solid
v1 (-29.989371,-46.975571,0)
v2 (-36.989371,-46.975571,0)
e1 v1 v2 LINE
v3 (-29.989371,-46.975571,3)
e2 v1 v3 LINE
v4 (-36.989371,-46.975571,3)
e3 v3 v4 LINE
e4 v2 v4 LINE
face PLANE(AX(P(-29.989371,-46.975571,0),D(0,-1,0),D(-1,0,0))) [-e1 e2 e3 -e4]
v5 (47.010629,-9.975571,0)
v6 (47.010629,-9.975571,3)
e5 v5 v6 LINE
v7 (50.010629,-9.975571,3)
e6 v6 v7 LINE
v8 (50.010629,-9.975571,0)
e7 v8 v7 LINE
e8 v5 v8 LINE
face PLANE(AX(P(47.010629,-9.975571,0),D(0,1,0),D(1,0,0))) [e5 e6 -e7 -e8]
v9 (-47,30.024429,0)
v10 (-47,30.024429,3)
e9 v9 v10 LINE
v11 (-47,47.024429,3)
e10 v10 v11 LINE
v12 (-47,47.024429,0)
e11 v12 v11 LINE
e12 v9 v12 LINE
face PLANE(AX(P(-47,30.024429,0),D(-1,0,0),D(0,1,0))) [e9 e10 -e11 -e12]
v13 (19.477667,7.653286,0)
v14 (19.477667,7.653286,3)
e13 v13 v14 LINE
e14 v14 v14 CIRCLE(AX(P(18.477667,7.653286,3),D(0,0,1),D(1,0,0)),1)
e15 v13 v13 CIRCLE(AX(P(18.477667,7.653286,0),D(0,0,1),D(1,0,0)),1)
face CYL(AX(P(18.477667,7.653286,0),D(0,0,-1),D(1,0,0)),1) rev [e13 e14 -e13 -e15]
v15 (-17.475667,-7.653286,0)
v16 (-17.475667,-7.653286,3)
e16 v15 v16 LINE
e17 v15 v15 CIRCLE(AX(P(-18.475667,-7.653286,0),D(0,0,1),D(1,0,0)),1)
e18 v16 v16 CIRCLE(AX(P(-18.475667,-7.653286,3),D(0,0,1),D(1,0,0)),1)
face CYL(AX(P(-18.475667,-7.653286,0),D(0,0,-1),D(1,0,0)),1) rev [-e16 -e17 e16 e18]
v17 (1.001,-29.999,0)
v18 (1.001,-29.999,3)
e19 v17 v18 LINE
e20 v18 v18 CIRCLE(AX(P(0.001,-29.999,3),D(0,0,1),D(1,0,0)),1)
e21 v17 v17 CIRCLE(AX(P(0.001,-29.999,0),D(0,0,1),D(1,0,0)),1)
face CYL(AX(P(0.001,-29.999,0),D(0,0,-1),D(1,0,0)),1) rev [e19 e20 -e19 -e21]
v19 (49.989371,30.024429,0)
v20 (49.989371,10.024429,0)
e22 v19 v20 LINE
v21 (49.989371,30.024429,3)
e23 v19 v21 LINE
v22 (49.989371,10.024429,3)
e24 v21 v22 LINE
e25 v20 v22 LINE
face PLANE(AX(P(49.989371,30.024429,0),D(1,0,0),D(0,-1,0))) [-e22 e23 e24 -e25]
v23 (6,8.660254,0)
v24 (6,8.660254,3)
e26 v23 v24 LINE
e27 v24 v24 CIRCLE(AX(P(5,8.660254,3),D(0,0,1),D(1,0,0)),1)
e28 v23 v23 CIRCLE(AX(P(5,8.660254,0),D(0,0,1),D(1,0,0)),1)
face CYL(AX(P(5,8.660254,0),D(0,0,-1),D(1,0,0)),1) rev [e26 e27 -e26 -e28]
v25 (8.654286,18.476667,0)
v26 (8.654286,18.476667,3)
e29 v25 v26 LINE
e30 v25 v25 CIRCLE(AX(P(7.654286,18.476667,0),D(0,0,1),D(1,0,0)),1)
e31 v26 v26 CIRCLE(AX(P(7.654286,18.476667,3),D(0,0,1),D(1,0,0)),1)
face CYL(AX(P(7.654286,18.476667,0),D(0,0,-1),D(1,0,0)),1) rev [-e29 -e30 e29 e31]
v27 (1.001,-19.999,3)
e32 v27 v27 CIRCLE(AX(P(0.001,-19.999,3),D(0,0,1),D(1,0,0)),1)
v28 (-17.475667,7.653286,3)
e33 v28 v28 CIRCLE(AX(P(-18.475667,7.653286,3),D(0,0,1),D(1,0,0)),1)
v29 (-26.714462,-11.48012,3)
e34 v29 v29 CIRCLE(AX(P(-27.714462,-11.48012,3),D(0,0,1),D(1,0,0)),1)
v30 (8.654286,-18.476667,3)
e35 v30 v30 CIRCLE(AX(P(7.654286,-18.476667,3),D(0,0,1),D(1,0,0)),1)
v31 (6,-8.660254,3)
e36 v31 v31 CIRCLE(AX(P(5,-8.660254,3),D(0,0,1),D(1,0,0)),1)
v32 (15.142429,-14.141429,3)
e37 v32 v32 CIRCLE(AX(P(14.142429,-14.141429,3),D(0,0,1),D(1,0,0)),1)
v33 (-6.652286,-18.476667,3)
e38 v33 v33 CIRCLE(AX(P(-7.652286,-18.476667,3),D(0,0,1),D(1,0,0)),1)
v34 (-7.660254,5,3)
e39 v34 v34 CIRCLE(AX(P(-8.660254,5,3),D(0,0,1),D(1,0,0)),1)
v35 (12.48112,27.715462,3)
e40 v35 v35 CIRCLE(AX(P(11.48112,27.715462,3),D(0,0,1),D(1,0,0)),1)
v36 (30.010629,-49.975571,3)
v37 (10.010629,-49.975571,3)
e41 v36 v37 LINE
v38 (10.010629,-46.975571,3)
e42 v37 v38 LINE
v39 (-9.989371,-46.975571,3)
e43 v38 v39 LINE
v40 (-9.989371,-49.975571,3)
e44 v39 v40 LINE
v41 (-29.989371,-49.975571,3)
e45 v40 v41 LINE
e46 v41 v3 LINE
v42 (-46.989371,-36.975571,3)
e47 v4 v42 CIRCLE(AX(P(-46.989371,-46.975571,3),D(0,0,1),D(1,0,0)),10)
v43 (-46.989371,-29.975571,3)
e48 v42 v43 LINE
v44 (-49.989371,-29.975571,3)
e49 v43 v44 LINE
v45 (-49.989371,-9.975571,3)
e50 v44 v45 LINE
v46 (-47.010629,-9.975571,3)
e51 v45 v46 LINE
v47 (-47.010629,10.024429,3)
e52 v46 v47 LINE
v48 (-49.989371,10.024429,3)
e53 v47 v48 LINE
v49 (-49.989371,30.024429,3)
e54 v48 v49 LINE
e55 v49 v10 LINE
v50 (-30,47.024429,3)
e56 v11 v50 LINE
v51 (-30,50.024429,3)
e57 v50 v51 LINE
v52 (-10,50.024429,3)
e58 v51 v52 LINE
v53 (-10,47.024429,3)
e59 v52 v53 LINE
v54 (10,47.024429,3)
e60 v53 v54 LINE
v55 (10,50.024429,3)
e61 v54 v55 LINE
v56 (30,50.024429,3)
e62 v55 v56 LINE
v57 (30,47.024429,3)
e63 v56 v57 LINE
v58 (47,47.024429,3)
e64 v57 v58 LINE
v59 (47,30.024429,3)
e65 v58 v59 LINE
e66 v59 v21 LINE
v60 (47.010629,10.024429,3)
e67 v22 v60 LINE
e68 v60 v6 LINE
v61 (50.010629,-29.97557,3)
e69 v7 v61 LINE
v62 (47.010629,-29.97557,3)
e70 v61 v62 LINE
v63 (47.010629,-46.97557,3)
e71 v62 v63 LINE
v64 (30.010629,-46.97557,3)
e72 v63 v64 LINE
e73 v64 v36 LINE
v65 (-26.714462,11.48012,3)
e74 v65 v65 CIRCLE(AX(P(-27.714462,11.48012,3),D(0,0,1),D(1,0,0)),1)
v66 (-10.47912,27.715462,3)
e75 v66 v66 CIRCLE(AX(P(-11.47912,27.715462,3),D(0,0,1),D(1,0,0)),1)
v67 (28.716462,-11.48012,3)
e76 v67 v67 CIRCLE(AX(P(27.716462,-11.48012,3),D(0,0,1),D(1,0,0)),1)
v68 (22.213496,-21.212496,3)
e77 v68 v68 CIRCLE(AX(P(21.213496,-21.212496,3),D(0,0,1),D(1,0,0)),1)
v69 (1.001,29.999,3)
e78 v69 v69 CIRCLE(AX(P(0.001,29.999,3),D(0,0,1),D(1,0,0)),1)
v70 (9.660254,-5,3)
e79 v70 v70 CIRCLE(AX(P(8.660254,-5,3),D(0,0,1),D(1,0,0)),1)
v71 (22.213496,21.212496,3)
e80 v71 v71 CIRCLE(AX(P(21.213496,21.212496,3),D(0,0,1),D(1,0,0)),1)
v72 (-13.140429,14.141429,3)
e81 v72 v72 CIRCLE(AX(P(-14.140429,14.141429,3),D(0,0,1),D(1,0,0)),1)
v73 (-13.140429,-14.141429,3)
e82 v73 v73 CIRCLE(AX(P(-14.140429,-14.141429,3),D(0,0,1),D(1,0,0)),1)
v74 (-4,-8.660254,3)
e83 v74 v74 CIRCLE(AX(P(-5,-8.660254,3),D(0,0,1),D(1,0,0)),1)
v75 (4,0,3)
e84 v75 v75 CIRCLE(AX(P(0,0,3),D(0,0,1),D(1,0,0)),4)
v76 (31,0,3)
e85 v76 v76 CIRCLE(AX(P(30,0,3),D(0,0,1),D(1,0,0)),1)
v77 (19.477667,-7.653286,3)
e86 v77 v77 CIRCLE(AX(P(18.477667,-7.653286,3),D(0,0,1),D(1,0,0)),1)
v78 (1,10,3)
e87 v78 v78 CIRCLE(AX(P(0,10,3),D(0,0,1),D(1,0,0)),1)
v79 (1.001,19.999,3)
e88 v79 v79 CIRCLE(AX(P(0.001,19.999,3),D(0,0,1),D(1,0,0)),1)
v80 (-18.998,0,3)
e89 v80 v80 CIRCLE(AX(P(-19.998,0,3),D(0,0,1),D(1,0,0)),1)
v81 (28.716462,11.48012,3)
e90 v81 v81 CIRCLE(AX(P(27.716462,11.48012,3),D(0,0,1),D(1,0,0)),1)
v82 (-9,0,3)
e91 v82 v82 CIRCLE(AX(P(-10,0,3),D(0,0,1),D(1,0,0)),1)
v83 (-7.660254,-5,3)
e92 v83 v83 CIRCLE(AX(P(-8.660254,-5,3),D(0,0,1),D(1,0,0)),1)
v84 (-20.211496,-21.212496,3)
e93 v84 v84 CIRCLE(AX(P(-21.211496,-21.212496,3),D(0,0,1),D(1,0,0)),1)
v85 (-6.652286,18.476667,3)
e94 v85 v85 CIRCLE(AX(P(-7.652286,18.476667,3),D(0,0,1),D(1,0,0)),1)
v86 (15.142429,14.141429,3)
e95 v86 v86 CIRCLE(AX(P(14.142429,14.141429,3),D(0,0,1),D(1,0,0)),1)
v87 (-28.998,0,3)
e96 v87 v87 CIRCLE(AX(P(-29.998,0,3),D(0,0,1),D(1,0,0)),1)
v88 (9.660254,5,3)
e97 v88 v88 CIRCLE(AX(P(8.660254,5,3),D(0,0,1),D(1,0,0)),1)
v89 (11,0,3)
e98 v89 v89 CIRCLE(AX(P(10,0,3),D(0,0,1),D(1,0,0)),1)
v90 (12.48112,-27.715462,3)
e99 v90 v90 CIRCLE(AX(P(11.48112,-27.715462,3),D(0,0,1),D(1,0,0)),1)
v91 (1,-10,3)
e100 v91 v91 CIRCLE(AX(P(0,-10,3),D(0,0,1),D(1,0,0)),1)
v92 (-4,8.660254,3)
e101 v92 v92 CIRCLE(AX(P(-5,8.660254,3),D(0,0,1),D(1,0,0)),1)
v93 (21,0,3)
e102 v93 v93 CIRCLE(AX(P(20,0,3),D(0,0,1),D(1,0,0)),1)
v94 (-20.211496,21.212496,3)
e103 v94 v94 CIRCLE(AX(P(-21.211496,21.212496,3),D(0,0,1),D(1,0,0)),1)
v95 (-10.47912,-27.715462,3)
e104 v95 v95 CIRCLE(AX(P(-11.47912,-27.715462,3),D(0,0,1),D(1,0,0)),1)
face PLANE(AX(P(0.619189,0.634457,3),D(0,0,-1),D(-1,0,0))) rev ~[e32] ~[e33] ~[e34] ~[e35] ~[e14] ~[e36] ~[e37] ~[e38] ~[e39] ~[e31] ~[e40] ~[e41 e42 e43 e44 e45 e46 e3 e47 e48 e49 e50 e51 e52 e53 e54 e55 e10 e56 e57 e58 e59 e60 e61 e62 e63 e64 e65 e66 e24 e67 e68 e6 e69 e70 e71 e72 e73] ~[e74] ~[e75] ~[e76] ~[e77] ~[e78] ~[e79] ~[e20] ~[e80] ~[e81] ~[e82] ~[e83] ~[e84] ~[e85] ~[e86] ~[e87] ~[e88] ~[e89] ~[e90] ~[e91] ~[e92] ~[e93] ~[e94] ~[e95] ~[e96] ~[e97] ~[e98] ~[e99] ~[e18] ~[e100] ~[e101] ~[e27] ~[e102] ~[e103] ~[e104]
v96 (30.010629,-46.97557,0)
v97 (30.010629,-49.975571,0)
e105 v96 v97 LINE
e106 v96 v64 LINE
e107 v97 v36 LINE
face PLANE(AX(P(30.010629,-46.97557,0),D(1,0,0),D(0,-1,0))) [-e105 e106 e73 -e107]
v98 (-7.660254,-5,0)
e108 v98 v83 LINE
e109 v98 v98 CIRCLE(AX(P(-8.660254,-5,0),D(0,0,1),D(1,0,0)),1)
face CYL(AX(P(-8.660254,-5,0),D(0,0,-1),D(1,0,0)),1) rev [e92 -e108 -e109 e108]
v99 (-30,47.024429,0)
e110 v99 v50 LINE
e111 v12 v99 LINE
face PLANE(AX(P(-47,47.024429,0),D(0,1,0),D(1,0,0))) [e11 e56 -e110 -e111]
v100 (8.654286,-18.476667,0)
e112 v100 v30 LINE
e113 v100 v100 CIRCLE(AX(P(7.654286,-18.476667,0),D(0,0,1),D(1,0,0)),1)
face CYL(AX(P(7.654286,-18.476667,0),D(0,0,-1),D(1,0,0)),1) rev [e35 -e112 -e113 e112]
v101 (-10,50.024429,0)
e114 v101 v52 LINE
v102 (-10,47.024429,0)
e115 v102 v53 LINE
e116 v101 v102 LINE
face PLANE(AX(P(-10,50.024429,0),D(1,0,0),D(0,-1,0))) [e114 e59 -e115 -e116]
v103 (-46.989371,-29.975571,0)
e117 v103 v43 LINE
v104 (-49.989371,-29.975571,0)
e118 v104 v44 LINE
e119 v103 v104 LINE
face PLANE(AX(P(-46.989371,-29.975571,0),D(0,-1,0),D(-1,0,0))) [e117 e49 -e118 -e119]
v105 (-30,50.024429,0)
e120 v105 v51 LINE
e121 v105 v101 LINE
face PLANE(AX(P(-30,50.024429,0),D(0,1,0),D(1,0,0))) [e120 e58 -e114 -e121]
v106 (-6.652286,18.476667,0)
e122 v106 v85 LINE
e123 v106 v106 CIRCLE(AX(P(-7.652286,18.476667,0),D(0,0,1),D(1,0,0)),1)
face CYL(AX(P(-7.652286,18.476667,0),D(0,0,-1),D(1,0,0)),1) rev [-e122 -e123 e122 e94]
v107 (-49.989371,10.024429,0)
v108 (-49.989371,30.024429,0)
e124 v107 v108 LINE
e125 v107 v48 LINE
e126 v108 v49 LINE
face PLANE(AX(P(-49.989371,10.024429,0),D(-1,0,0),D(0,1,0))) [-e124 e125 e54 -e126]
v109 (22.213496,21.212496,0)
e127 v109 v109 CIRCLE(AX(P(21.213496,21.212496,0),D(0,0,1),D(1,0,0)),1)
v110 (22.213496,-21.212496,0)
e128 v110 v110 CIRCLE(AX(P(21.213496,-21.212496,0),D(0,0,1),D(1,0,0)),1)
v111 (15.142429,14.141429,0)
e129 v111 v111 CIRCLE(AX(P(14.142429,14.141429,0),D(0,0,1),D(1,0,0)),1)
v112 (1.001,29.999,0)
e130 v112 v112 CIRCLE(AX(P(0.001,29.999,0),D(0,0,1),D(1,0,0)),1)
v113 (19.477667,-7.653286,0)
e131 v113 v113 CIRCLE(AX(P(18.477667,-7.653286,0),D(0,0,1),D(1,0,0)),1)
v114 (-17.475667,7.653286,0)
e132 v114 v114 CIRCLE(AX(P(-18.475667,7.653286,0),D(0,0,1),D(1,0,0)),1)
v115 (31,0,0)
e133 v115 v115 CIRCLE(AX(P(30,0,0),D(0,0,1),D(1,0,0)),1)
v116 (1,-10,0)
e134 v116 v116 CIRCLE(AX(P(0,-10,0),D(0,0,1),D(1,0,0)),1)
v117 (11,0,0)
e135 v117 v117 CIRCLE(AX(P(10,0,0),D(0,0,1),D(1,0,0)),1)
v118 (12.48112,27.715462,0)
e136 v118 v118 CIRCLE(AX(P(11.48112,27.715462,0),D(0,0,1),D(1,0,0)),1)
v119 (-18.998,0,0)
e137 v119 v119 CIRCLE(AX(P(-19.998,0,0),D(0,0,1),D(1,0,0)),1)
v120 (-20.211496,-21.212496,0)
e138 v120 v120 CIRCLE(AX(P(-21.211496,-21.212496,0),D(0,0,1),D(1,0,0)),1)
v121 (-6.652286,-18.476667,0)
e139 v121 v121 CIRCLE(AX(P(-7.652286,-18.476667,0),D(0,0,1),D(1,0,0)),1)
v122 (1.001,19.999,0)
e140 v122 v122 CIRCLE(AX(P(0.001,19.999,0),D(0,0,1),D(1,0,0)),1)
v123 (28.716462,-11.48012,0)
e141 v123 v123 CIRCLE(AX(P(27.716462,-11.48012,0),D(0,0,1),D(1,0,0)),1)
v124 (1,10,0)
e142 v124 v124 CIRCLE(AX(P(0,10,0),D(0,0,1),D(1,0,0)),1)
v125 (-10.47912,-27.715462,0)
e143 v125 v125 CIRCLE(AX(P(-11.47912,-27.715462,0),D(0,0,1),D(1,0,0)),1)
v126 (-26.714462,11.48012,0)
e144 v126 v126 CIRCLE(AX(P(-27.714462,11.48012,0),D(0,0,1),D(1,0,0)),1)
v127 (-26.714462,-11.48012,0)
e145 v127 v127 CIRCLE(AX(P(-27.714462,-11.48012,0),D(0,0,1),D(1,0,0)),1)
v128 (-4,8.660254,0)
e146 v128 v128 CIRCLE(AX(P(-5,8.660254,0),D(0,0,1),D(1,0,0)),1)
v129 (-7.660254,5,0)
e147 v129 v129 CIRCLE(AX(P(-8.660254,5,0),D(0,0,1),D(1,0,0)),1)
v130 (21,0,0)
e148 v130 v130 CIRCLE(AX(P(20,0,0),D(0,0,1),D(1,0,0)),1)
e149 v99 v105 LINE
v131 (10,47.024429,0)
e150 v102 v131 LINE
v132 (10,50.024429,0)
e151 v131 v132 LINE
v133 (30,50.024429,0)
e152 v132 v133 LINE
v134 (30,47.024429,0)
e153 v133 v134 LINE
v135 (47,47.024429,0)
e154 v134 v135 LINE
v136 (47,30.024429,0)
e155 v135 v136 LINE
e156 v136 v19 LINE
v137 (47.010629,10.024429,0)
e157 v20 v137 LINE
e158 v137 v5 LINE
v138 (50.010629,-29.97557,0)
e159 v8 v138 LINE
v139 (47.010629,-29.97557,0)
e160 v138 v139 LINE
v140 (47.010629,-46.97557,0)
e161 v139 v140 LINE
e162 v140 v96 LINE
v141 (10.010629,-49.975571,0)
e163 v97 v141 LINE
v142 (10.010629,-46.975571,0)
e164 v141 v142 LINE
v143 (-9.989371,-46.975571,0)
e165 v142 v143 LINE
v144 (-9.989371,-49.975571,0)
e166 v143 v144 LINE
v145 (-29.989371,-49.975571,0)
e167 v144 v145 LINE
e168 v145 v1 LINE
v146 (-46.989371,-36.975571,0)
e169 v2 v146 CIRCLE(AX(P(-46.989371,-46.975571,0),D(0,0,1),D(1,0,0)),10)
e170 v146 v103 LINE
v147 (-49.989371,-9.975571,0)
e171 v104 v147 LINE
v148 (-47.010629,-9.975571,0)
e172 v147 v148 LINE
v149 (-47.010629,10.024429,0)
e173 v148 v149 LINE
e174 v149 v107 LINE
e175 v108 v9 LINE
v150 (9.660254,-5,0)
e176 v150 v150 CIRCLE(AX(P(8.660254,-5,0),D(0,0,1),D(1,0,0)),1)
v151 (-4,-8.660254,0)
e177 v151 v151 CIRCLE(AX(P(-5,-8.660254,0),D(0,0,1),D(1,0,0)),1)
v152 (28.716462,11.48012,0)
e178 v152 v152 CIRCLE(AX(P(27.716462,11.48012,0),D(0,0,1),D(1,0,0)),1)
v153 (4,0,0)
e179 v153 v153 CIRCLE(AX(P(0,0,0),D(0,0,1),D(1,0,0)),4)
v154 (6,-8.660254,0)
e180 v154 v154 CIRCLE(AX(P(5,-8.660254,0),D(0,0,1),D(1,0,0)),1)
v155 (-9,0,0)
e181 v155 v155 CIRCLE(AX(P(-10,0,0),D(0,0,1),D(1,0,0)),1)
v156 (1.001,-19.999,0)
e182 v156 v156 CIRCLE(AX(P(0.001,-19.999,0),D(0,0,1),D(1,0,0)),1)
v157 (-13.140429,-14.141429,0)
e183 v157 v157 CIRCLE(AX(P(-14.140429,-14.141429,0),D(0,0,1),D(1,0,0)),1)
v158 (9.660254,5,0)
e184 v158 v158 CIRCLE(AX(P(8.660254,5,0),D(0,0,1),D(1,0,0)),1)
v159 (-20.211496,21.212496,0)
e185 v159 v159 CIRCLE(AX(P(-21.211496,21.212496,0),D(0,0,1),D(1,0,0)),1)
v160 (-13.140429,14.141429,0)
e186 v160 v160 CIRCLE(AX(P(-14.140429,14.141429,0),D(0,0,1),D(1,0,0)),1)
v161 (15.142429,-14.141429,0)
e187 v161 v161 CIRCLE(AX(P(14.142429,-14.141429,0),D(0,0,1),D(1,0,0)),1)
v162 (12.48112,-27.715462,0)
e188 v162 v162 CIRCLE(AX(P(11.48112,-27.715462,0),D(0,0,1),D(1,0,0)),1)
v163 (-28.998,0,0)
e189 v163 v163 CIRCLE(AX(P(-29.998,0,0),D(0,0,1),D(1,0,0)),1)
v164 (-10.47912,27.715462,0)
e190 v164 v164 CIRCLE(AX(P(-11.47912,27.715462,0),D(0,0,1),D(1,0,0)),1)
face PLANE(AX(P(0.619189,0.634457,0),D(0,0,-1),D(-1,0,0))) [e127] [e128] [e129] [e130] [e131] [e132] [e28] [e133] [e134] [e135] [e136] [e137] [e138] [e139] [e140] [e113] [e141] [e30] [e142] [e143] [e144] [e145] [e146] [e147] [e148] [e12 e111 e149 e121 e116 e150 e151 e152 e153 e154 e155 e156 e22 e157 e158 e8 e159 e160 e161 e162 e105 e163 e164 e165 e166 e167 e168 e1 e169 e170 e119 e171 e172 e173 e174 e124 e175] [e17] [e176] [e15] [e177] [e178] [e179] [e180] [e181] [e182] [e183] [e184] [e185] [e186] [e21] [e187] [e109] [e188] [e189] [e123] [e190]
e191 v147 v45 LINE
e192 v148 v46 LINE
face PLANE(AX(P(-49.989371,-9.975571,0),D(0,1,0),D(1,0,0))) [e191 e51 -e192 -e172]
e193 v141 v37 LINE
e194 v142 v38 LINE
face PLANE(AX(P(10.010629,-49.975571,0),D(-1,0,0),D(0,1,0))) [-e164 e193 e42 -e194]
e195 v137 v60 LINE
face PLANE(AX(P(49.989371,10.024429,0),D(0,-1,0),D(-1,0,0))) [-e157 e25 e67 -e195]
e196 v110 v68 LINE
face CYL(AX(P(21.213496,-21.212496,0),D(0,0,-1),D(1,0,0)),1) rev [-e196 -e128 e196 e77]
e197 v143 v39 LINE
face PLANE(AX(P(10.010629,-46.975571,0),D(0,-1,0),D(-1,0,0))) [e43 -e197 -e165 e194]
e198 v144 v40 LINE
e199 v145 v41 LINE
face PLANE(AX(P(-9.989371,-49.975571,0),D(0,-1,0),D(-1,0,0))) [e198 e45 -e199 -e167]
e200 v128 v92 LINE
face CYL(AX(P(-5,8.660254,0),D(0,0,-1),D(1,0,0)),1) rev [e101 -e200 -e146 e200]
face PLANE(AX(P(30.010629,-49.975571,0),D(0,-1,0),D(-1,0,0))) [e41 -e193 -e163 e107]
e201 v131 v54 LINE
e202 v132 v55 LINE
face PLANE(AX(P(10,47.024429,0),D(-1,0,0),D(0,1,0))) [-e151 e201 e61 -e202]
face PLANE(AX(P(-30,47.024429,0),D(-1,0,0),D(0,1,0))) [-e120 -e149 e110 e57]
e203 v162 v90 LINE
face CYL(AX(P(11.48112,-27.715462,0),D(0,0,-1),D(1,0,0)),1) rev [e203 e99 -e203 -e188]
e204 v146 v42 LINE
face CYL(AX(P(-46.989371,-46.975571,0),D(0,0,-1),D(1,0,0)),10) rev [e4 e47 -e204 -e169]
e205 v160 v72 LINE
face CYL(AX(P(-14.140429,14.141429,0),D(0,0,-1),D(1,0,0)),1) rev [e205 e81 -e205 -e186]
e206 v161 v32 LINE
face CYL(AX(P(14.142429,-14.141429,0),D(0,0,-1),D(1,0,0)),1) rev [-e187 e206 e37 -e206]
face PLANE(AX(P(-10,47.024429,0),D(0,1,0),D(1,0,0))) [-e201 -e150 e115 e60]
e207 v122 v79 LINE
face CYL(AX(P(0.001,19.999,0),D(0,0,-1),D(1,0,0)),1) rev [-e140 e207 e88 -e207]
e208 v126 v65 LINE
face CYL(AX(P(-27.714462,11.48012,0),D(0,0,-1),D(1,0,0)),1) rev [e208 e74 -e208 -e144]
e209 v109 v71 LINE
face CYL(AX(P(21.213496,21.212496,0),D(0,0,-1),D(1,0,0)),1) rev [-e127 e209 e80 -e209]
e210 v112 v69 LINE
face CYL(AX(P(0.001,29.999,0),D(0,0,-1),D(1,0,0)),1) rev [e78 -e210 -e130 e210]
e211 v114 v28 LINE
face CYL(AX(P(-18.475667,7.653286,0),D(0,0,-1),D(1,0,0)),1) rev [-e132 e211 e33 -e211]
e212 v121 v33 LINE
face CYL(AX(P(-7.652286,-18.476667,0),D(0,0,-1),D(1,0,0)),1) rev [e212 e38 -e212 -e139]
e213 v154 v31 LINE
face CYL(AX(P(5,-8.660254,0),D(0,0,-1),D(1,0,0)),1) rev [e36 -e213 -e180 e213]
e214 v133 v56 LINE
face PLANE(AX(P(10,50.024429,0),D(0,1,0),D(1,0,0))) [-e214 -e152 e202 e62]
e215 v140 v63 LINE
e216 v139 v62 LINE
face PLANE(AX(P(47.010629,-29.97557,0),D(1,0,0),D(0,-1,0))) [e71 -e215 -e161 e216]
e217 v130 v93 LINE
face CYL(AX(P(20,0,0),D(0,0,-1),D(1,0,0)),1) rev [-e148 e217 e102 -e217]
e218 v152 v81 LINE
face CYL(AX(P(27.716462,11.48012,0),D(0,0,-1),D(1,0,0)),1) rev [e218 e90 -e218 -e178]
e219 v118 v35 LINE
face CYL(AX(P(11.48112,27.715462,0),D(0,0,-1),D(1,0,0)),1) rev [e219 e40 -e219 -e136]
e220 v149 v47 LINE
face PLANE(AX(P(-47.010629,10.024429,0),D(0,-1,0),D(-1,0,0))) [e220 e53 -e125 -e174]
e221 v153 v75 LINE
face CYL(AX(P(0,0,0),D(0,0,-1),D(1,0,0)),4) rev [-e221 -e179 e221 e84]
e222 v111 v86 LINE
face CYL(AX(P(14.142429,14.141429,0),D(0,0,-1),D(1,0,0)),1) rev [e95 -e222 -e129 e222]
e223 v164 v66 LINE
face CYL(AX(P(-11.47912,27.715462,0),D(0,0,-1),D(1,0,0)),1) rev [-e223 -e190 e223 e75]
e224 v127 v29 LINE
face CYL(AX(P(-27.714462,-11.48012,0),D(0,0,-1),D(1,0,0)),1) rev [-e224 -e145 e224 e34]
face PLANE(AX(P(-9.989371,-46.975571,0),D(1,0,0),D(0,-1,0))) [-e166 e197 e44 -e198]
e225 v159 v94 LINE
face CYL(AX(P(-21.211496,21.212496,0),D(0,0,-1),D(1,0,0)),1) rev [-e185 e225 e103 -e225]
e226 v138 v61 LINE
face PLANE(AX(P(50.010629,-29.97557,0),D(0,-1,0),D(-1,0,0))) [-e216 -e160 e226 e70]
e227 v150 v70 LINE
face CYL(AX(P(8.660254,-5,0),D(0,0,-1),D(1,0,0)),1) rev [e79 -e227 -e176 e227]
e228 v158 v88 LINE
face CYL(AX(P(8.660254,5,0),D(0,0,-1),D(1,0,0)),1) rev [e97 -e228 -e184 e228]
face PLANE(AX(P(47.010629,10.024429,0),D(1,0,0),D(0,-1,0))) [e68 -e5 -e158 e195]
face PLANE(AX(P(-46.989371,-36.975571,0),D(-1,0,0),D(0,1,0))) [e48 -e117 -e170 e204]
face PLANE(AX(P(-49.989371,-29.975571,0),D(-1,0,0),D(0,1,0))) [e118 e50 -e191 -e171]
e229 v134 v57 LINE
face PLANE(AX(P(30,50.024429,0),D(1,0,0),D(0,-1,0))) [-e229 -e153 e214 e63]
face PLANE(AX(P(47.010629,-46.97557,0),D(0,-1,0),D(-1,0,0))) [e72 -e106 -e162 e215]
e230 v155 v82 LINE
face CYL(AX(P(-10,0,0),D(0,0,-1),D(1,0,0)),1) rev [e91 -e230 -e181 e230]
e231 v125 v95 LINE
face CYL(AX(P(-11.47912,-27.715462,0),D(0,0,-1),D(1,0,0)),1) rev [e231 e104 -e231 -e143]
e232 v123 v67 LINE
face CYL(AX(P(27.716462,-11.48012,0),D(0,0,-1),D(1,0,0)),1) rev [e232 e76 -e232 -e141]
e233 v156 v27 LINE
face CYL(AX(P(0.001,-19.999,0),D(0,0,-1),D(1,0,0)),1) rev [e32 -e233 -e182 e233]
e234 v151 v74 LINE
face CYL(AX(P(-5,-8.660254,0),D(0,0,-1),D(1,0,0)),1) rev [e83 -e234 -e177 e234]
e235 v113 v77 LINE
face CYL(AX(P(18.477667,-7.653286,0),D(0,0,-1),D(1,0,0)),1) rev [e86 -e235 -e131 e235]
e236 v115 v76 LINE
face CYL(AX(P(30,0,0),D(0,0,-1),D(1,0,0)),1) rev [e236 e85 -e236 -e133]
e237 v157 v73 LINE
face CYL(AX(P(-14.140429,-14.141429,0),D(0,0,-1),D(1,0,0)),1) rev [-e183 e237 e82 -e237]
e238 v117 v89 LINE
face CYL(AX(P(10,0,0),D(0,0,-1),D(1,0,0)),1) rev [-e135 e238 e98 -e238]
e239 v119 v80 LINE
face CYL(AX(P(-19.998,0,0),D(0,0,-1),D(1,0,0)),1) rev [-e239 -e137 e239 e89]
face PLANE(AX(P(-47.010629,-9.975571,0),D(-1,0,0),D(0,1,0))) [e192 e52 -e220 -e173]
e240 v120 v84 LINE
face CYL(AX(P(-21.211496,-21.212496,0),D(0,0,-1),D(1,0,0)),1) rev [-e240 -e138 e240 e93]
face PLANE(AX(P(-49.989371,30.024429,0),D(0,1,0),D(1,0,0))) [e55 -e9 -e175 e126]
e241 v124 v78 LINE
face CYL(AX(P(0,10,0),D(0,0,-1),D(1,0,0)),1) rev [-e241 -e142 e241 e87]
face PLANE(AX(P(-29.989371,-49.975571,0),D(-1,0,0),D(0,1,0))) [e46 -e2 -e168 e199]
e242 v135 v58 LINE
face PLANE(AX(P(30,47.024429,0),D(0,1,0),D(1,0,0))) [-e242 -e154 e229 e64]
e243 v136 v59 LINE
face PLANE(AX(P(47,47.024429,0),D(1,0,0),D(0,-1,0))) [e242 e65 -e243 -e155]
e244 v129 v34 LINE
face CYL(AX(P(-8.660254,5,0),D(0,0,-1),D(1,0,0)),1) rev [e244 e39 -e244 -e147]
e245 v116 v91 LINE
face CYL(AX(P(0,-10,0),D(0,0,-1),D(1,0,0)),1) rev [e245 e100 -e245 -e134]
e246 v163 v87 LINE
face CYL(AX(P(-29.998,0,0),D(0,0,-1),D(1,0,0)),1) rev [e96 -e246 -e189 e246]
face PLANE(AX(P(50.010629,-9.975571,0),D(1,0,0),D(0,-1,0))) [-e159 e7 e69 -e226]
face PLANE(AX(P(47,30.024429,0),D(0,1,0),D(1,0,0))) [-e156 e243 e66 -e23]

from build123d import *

# Parameters (mm, degrees)
SKETCH_1_R      = 1
SKETCH_1_R_2    = 4
EXTRUDE_1_DEPTH = 3


with BuildPart() as part:
    # 草图1 → 凸台-拉伸1 (new body)
    with BuildSketch(Plane.XY):
        with BuildLine():
            Line((-10, 47.024429381), (10, 47.024429381))
            Line((10, 47.024429381), (10, 50.024429381))
            Line((10, 50.024429381), (30, 50.024429381))
            Line((30, 50.024429381), (30, 47.024429381))
            Line((30, 47.024429381), (47, 47.024429381))
            Line((47, 47.024429381), (47, 30.024429381))
            Line((47, 30.024429381), (49.989371297, 30.024429381))
            Line((49.989371297, 30.024429381), (49.989371297, 10.024429381))
            Line((49.989371297, 10.024429381), (47.010628703, 10.024429381))
            Line((47.010628703, 10.024429381), (47.010628703, -9.975570619))
            Line((47.010628703, -9.975570619), (50.010629304, -9.975570619))
            Line((50.010629304, -9.975570619), (50.010629304, -29.975570018))
            Line((50.010629304, -29.975570018), (47.010629304, -29.975570018))
            Line((47.010629304, -29.975570018), (47.010629304, -46.975570018))
            Line((47.010629304, -46.975570018), (30.010628703, -46.975570018))
            Line((30.010628703, -46.975570018), (30.010628703, -49.975570619))
            Line((30.010628703, -49.975570619), (10.010628703, -49.975570619))
            Line((10.010628703, -49.975570619), (10.010628703, -46.975570619))
            Line((10.010628703, -46.975570619), (-9.989371297, -46.975570619))
            Line((-9.989371297, -46.975570619), (-9.989371297, -49.975570619))
            Line((-9.989371297, -49.975570619), (-29.989371297, -49.975570619))
            Line((-29.989371297, -49.975570619), (-29.989371297, -46.975570619))
            Line((-29.989371297, -46.975570619), (-36.989371297, -46.975570619))
            ThreePointArc((-36.989371297, -46.975570619), (-39.918303485, -39.904502807), (-46.989371297, -36.975570619))
            Line((-46.989371297, -36.975570619), (-46.989371297, -29.975570619))
            Line((-46.989371297, -29.975570619), (-49.989371297, -29.975570619))
            Line((-49.989371297, -29.975570619), (-49.989371297, -9.975570619))
            Line((-49.989371297, -9.975570619), (-47.010628703, -9.975570619))
            Line((-47.010628703, -9.975570619), (-47.010628703, 10.024429381))
            Line((-47.010628703, 10.024429381), (-49.989371297, 10.024429381))
            Line((-49.989371297, 10.024429381), (-49.989371297, 30.024429381))
            Line((-49.989371297, 30.024429381), (-47, 30.024429381))
            Line((-47, 30.024429381), (-47, 47.024429381))
            Line((-47, 47.024429381), (-30, 47.024429381))
            Line((-30, 47.024429381), (-30, 50.024429381))
            Line((-30, 50.024429381), (-10, 50.024429381))
            Line((-10, 50.024429381), (-10, 47.024429381))
        make_face()
        with Locations((10, 0)):
            Circle(SKETCH_1_R, mode=Mode.SUBTRACT)
        with Locations((20, 0)):
            Circle(SKETCH_1_R, mode=Mode.SUBTRACT)
        with Locations((30, 0)):
            Circle(SKETCH_1_R, mode=Mode.SUBTRACT)
        with Locations((18.477666771, -7.653285964)):
            Circle(SKETCH_1_R, mode=Mode.SUBTRACT)
        with Locations((27.716462096, -11.480120288)):
            Circle(SKETCH_1_R, mode=Mode.SUBTRACT)
        with Locations((14.142428517, -14.141428517)):
            Circle(SKETCH_1_R, mode=Mode.SUBTRACT)
        with Locations((21.213496329, -21.212496329)):
            Circle(SKETCH_1_R, mode=Mode.SUBTRACT)
        with Locations((7.654285964, -18.476666771)):
            Circle(SKETCH_1_R, mode=Mode.SUBTRACT)
        with Locations((11.481120288, -27.715462096)):
            Circle(SKETCH_1_R, mode=Mode.SUBTRACT)
        with Locations((0.001, -19.999)):
            Circle(SKETCH_1_R, mode=Mode.SUBTRACT)
        with Locations((0.001, -29.999)):
            Circle(SKETCH_1_R, mode=Mode.SUBTRACT)
        with Locations((-7.652285964, -18.476666771)):
            Circle(SKETCH_1_R, mode=Mode.SUBTRACT)
        with Locations((-11.479120288, -27.715462096)):
            Circle(SKETCH_1_R, mode=Mode.SUBTRACT)
        with Locations((-14.140428517, -14.141428517)):
            Circle(SKETCH_1_R, mode=Mode.SUBTRACT)
        with Locations((-21.211496329, -21.212496329)):
            Circle(SKETCH_1_R, mode=Mode.SUBTRACT)
        with Locations((-18.475666771, -7.653285964)):
            Circle(SKETCH_1_R, mode=Mode.SUBTRACT)
        with Locations((-27.714462096, -11.480120288)):
            Circle(SKETCH_1_R, mode=Mode.SUBTRACT)
        with Locations((-19.998, 0)):
            Circle(SKETCH_1_R, mode=Mode.SUBTRACT)
        with Locations((-29.998, 0)):
            Circle(SKETCH_1_R, mode=Mode.SUBTRACT)
        with Locations((-18.475666771, 7.653285964)):
            Circle(SKETCH_1_R, mode=Mode.SUBTRACT)
        with Locations((-27.714462096, 11.480120288)):
            Circle(SKETCH_1_R, mode=Mode.SUBTRACT)
        with Locations((-14.140428517, 14.141428517)):
            Circle(SKETCH_1_R, mode=Mode.SUBTRACT)
        with Locations((-21.211496329, 21.212496329)):
            Circle(SKETCH_1_R, mode=Mode.SUBTRACT)
        with Locations((-7.652285964, 18.476666771)):
            Circle(SKETCH_1_R, mode=Mode.SUBTRACT)
        with Locations((-11.479120288, 27.715462096)):
            Circle(SKETCH_1_R, mode=Mode.SUBTRACT)
        with Locations((0.001, 19.999)):
            Circle(SKETCH_1_R, mode=Mode.SUBTRACT)
        with Locations((0.001, 29.999)):
            Circle(SKETCH_1_R, mode=Mode.SUBTRACT)
        with Locations((7.654285964, 18.476666771)):
            Circle(SKETCH_1_R, mode=Mode.SUBTRACT)
        with Locations((11.481120288, 27.715462096)):
            Circle(SKETCH_1_R, mode=Mode.SUBTRACT)
        with Locations((14.142428517, 14.141428517)):
            Circle(SKETCH_1_R, mode=Mode.SUBTRACT)
        with Locations((21.213496329, 21.212496329)):
            Circle(SKETCH_1_R, mode=Mode.SUBTRACT)
        with Locations((18.477666771, 7.653285964)):
            Circle(SKETCH_1_R, mode=Mode.SUBTRACT)
        with Locations((27.716462096, 11.480120288)):
            Circle(SKETCH_1_R, mode=Mode.SUBTRACT)
        with Locations((8.660254038, -5)):
            Circle(SKETCH_1_R, mode=Mode.SUBTRACT)
        with Locations((5, -8.660254038)):
            Circle(SKETCH_1_R, mode=Mode.SUBTRACT)
        with Locations((0, -10)):
            Circle(SKETCH_1_R, mode=Mode.SUBTRACT)
        with Locations((-5, -8.660254038)):
            Circle(SKETCH_1_R, mode=Mode.SUBTRACT)
        with Locations((-8.660254038, -5)):
            Circle(SKETCH_1_R, mode=Mode.SUBTRACT)
        with Locations((-10, 0)):
            Circle(SKETCH_1_R, mode=Mode.SUBTRACT)
        with Locations((-8.660254038, 5)):
            Circle(SKETCH_1_R, mode=Mode.SUBTRACT)
        with Locations((-5, 8.660254038)):
            Circle(SKETCH_1_R, mode=Mode.SUBTRACT)
        with Locations((0, 10)):
            Circle(SKETCH_1_R, mode=Mode.SUBTRACT)
        with Locations((5, 8.660254038)):
            Circle(SKETCH_1_R, mode=Mode.SUBTRACT)
        with Locations((8.660254038, 5)):
            Circle(SKETCH_1_R, mode=Mode.SUBTRACT)
        Circle(SKETCH_1_R_2, mode=Mode.SUBTRACT)
    extrude(amount=EXTRUDE_1_DEPTH)


solid = part.part
